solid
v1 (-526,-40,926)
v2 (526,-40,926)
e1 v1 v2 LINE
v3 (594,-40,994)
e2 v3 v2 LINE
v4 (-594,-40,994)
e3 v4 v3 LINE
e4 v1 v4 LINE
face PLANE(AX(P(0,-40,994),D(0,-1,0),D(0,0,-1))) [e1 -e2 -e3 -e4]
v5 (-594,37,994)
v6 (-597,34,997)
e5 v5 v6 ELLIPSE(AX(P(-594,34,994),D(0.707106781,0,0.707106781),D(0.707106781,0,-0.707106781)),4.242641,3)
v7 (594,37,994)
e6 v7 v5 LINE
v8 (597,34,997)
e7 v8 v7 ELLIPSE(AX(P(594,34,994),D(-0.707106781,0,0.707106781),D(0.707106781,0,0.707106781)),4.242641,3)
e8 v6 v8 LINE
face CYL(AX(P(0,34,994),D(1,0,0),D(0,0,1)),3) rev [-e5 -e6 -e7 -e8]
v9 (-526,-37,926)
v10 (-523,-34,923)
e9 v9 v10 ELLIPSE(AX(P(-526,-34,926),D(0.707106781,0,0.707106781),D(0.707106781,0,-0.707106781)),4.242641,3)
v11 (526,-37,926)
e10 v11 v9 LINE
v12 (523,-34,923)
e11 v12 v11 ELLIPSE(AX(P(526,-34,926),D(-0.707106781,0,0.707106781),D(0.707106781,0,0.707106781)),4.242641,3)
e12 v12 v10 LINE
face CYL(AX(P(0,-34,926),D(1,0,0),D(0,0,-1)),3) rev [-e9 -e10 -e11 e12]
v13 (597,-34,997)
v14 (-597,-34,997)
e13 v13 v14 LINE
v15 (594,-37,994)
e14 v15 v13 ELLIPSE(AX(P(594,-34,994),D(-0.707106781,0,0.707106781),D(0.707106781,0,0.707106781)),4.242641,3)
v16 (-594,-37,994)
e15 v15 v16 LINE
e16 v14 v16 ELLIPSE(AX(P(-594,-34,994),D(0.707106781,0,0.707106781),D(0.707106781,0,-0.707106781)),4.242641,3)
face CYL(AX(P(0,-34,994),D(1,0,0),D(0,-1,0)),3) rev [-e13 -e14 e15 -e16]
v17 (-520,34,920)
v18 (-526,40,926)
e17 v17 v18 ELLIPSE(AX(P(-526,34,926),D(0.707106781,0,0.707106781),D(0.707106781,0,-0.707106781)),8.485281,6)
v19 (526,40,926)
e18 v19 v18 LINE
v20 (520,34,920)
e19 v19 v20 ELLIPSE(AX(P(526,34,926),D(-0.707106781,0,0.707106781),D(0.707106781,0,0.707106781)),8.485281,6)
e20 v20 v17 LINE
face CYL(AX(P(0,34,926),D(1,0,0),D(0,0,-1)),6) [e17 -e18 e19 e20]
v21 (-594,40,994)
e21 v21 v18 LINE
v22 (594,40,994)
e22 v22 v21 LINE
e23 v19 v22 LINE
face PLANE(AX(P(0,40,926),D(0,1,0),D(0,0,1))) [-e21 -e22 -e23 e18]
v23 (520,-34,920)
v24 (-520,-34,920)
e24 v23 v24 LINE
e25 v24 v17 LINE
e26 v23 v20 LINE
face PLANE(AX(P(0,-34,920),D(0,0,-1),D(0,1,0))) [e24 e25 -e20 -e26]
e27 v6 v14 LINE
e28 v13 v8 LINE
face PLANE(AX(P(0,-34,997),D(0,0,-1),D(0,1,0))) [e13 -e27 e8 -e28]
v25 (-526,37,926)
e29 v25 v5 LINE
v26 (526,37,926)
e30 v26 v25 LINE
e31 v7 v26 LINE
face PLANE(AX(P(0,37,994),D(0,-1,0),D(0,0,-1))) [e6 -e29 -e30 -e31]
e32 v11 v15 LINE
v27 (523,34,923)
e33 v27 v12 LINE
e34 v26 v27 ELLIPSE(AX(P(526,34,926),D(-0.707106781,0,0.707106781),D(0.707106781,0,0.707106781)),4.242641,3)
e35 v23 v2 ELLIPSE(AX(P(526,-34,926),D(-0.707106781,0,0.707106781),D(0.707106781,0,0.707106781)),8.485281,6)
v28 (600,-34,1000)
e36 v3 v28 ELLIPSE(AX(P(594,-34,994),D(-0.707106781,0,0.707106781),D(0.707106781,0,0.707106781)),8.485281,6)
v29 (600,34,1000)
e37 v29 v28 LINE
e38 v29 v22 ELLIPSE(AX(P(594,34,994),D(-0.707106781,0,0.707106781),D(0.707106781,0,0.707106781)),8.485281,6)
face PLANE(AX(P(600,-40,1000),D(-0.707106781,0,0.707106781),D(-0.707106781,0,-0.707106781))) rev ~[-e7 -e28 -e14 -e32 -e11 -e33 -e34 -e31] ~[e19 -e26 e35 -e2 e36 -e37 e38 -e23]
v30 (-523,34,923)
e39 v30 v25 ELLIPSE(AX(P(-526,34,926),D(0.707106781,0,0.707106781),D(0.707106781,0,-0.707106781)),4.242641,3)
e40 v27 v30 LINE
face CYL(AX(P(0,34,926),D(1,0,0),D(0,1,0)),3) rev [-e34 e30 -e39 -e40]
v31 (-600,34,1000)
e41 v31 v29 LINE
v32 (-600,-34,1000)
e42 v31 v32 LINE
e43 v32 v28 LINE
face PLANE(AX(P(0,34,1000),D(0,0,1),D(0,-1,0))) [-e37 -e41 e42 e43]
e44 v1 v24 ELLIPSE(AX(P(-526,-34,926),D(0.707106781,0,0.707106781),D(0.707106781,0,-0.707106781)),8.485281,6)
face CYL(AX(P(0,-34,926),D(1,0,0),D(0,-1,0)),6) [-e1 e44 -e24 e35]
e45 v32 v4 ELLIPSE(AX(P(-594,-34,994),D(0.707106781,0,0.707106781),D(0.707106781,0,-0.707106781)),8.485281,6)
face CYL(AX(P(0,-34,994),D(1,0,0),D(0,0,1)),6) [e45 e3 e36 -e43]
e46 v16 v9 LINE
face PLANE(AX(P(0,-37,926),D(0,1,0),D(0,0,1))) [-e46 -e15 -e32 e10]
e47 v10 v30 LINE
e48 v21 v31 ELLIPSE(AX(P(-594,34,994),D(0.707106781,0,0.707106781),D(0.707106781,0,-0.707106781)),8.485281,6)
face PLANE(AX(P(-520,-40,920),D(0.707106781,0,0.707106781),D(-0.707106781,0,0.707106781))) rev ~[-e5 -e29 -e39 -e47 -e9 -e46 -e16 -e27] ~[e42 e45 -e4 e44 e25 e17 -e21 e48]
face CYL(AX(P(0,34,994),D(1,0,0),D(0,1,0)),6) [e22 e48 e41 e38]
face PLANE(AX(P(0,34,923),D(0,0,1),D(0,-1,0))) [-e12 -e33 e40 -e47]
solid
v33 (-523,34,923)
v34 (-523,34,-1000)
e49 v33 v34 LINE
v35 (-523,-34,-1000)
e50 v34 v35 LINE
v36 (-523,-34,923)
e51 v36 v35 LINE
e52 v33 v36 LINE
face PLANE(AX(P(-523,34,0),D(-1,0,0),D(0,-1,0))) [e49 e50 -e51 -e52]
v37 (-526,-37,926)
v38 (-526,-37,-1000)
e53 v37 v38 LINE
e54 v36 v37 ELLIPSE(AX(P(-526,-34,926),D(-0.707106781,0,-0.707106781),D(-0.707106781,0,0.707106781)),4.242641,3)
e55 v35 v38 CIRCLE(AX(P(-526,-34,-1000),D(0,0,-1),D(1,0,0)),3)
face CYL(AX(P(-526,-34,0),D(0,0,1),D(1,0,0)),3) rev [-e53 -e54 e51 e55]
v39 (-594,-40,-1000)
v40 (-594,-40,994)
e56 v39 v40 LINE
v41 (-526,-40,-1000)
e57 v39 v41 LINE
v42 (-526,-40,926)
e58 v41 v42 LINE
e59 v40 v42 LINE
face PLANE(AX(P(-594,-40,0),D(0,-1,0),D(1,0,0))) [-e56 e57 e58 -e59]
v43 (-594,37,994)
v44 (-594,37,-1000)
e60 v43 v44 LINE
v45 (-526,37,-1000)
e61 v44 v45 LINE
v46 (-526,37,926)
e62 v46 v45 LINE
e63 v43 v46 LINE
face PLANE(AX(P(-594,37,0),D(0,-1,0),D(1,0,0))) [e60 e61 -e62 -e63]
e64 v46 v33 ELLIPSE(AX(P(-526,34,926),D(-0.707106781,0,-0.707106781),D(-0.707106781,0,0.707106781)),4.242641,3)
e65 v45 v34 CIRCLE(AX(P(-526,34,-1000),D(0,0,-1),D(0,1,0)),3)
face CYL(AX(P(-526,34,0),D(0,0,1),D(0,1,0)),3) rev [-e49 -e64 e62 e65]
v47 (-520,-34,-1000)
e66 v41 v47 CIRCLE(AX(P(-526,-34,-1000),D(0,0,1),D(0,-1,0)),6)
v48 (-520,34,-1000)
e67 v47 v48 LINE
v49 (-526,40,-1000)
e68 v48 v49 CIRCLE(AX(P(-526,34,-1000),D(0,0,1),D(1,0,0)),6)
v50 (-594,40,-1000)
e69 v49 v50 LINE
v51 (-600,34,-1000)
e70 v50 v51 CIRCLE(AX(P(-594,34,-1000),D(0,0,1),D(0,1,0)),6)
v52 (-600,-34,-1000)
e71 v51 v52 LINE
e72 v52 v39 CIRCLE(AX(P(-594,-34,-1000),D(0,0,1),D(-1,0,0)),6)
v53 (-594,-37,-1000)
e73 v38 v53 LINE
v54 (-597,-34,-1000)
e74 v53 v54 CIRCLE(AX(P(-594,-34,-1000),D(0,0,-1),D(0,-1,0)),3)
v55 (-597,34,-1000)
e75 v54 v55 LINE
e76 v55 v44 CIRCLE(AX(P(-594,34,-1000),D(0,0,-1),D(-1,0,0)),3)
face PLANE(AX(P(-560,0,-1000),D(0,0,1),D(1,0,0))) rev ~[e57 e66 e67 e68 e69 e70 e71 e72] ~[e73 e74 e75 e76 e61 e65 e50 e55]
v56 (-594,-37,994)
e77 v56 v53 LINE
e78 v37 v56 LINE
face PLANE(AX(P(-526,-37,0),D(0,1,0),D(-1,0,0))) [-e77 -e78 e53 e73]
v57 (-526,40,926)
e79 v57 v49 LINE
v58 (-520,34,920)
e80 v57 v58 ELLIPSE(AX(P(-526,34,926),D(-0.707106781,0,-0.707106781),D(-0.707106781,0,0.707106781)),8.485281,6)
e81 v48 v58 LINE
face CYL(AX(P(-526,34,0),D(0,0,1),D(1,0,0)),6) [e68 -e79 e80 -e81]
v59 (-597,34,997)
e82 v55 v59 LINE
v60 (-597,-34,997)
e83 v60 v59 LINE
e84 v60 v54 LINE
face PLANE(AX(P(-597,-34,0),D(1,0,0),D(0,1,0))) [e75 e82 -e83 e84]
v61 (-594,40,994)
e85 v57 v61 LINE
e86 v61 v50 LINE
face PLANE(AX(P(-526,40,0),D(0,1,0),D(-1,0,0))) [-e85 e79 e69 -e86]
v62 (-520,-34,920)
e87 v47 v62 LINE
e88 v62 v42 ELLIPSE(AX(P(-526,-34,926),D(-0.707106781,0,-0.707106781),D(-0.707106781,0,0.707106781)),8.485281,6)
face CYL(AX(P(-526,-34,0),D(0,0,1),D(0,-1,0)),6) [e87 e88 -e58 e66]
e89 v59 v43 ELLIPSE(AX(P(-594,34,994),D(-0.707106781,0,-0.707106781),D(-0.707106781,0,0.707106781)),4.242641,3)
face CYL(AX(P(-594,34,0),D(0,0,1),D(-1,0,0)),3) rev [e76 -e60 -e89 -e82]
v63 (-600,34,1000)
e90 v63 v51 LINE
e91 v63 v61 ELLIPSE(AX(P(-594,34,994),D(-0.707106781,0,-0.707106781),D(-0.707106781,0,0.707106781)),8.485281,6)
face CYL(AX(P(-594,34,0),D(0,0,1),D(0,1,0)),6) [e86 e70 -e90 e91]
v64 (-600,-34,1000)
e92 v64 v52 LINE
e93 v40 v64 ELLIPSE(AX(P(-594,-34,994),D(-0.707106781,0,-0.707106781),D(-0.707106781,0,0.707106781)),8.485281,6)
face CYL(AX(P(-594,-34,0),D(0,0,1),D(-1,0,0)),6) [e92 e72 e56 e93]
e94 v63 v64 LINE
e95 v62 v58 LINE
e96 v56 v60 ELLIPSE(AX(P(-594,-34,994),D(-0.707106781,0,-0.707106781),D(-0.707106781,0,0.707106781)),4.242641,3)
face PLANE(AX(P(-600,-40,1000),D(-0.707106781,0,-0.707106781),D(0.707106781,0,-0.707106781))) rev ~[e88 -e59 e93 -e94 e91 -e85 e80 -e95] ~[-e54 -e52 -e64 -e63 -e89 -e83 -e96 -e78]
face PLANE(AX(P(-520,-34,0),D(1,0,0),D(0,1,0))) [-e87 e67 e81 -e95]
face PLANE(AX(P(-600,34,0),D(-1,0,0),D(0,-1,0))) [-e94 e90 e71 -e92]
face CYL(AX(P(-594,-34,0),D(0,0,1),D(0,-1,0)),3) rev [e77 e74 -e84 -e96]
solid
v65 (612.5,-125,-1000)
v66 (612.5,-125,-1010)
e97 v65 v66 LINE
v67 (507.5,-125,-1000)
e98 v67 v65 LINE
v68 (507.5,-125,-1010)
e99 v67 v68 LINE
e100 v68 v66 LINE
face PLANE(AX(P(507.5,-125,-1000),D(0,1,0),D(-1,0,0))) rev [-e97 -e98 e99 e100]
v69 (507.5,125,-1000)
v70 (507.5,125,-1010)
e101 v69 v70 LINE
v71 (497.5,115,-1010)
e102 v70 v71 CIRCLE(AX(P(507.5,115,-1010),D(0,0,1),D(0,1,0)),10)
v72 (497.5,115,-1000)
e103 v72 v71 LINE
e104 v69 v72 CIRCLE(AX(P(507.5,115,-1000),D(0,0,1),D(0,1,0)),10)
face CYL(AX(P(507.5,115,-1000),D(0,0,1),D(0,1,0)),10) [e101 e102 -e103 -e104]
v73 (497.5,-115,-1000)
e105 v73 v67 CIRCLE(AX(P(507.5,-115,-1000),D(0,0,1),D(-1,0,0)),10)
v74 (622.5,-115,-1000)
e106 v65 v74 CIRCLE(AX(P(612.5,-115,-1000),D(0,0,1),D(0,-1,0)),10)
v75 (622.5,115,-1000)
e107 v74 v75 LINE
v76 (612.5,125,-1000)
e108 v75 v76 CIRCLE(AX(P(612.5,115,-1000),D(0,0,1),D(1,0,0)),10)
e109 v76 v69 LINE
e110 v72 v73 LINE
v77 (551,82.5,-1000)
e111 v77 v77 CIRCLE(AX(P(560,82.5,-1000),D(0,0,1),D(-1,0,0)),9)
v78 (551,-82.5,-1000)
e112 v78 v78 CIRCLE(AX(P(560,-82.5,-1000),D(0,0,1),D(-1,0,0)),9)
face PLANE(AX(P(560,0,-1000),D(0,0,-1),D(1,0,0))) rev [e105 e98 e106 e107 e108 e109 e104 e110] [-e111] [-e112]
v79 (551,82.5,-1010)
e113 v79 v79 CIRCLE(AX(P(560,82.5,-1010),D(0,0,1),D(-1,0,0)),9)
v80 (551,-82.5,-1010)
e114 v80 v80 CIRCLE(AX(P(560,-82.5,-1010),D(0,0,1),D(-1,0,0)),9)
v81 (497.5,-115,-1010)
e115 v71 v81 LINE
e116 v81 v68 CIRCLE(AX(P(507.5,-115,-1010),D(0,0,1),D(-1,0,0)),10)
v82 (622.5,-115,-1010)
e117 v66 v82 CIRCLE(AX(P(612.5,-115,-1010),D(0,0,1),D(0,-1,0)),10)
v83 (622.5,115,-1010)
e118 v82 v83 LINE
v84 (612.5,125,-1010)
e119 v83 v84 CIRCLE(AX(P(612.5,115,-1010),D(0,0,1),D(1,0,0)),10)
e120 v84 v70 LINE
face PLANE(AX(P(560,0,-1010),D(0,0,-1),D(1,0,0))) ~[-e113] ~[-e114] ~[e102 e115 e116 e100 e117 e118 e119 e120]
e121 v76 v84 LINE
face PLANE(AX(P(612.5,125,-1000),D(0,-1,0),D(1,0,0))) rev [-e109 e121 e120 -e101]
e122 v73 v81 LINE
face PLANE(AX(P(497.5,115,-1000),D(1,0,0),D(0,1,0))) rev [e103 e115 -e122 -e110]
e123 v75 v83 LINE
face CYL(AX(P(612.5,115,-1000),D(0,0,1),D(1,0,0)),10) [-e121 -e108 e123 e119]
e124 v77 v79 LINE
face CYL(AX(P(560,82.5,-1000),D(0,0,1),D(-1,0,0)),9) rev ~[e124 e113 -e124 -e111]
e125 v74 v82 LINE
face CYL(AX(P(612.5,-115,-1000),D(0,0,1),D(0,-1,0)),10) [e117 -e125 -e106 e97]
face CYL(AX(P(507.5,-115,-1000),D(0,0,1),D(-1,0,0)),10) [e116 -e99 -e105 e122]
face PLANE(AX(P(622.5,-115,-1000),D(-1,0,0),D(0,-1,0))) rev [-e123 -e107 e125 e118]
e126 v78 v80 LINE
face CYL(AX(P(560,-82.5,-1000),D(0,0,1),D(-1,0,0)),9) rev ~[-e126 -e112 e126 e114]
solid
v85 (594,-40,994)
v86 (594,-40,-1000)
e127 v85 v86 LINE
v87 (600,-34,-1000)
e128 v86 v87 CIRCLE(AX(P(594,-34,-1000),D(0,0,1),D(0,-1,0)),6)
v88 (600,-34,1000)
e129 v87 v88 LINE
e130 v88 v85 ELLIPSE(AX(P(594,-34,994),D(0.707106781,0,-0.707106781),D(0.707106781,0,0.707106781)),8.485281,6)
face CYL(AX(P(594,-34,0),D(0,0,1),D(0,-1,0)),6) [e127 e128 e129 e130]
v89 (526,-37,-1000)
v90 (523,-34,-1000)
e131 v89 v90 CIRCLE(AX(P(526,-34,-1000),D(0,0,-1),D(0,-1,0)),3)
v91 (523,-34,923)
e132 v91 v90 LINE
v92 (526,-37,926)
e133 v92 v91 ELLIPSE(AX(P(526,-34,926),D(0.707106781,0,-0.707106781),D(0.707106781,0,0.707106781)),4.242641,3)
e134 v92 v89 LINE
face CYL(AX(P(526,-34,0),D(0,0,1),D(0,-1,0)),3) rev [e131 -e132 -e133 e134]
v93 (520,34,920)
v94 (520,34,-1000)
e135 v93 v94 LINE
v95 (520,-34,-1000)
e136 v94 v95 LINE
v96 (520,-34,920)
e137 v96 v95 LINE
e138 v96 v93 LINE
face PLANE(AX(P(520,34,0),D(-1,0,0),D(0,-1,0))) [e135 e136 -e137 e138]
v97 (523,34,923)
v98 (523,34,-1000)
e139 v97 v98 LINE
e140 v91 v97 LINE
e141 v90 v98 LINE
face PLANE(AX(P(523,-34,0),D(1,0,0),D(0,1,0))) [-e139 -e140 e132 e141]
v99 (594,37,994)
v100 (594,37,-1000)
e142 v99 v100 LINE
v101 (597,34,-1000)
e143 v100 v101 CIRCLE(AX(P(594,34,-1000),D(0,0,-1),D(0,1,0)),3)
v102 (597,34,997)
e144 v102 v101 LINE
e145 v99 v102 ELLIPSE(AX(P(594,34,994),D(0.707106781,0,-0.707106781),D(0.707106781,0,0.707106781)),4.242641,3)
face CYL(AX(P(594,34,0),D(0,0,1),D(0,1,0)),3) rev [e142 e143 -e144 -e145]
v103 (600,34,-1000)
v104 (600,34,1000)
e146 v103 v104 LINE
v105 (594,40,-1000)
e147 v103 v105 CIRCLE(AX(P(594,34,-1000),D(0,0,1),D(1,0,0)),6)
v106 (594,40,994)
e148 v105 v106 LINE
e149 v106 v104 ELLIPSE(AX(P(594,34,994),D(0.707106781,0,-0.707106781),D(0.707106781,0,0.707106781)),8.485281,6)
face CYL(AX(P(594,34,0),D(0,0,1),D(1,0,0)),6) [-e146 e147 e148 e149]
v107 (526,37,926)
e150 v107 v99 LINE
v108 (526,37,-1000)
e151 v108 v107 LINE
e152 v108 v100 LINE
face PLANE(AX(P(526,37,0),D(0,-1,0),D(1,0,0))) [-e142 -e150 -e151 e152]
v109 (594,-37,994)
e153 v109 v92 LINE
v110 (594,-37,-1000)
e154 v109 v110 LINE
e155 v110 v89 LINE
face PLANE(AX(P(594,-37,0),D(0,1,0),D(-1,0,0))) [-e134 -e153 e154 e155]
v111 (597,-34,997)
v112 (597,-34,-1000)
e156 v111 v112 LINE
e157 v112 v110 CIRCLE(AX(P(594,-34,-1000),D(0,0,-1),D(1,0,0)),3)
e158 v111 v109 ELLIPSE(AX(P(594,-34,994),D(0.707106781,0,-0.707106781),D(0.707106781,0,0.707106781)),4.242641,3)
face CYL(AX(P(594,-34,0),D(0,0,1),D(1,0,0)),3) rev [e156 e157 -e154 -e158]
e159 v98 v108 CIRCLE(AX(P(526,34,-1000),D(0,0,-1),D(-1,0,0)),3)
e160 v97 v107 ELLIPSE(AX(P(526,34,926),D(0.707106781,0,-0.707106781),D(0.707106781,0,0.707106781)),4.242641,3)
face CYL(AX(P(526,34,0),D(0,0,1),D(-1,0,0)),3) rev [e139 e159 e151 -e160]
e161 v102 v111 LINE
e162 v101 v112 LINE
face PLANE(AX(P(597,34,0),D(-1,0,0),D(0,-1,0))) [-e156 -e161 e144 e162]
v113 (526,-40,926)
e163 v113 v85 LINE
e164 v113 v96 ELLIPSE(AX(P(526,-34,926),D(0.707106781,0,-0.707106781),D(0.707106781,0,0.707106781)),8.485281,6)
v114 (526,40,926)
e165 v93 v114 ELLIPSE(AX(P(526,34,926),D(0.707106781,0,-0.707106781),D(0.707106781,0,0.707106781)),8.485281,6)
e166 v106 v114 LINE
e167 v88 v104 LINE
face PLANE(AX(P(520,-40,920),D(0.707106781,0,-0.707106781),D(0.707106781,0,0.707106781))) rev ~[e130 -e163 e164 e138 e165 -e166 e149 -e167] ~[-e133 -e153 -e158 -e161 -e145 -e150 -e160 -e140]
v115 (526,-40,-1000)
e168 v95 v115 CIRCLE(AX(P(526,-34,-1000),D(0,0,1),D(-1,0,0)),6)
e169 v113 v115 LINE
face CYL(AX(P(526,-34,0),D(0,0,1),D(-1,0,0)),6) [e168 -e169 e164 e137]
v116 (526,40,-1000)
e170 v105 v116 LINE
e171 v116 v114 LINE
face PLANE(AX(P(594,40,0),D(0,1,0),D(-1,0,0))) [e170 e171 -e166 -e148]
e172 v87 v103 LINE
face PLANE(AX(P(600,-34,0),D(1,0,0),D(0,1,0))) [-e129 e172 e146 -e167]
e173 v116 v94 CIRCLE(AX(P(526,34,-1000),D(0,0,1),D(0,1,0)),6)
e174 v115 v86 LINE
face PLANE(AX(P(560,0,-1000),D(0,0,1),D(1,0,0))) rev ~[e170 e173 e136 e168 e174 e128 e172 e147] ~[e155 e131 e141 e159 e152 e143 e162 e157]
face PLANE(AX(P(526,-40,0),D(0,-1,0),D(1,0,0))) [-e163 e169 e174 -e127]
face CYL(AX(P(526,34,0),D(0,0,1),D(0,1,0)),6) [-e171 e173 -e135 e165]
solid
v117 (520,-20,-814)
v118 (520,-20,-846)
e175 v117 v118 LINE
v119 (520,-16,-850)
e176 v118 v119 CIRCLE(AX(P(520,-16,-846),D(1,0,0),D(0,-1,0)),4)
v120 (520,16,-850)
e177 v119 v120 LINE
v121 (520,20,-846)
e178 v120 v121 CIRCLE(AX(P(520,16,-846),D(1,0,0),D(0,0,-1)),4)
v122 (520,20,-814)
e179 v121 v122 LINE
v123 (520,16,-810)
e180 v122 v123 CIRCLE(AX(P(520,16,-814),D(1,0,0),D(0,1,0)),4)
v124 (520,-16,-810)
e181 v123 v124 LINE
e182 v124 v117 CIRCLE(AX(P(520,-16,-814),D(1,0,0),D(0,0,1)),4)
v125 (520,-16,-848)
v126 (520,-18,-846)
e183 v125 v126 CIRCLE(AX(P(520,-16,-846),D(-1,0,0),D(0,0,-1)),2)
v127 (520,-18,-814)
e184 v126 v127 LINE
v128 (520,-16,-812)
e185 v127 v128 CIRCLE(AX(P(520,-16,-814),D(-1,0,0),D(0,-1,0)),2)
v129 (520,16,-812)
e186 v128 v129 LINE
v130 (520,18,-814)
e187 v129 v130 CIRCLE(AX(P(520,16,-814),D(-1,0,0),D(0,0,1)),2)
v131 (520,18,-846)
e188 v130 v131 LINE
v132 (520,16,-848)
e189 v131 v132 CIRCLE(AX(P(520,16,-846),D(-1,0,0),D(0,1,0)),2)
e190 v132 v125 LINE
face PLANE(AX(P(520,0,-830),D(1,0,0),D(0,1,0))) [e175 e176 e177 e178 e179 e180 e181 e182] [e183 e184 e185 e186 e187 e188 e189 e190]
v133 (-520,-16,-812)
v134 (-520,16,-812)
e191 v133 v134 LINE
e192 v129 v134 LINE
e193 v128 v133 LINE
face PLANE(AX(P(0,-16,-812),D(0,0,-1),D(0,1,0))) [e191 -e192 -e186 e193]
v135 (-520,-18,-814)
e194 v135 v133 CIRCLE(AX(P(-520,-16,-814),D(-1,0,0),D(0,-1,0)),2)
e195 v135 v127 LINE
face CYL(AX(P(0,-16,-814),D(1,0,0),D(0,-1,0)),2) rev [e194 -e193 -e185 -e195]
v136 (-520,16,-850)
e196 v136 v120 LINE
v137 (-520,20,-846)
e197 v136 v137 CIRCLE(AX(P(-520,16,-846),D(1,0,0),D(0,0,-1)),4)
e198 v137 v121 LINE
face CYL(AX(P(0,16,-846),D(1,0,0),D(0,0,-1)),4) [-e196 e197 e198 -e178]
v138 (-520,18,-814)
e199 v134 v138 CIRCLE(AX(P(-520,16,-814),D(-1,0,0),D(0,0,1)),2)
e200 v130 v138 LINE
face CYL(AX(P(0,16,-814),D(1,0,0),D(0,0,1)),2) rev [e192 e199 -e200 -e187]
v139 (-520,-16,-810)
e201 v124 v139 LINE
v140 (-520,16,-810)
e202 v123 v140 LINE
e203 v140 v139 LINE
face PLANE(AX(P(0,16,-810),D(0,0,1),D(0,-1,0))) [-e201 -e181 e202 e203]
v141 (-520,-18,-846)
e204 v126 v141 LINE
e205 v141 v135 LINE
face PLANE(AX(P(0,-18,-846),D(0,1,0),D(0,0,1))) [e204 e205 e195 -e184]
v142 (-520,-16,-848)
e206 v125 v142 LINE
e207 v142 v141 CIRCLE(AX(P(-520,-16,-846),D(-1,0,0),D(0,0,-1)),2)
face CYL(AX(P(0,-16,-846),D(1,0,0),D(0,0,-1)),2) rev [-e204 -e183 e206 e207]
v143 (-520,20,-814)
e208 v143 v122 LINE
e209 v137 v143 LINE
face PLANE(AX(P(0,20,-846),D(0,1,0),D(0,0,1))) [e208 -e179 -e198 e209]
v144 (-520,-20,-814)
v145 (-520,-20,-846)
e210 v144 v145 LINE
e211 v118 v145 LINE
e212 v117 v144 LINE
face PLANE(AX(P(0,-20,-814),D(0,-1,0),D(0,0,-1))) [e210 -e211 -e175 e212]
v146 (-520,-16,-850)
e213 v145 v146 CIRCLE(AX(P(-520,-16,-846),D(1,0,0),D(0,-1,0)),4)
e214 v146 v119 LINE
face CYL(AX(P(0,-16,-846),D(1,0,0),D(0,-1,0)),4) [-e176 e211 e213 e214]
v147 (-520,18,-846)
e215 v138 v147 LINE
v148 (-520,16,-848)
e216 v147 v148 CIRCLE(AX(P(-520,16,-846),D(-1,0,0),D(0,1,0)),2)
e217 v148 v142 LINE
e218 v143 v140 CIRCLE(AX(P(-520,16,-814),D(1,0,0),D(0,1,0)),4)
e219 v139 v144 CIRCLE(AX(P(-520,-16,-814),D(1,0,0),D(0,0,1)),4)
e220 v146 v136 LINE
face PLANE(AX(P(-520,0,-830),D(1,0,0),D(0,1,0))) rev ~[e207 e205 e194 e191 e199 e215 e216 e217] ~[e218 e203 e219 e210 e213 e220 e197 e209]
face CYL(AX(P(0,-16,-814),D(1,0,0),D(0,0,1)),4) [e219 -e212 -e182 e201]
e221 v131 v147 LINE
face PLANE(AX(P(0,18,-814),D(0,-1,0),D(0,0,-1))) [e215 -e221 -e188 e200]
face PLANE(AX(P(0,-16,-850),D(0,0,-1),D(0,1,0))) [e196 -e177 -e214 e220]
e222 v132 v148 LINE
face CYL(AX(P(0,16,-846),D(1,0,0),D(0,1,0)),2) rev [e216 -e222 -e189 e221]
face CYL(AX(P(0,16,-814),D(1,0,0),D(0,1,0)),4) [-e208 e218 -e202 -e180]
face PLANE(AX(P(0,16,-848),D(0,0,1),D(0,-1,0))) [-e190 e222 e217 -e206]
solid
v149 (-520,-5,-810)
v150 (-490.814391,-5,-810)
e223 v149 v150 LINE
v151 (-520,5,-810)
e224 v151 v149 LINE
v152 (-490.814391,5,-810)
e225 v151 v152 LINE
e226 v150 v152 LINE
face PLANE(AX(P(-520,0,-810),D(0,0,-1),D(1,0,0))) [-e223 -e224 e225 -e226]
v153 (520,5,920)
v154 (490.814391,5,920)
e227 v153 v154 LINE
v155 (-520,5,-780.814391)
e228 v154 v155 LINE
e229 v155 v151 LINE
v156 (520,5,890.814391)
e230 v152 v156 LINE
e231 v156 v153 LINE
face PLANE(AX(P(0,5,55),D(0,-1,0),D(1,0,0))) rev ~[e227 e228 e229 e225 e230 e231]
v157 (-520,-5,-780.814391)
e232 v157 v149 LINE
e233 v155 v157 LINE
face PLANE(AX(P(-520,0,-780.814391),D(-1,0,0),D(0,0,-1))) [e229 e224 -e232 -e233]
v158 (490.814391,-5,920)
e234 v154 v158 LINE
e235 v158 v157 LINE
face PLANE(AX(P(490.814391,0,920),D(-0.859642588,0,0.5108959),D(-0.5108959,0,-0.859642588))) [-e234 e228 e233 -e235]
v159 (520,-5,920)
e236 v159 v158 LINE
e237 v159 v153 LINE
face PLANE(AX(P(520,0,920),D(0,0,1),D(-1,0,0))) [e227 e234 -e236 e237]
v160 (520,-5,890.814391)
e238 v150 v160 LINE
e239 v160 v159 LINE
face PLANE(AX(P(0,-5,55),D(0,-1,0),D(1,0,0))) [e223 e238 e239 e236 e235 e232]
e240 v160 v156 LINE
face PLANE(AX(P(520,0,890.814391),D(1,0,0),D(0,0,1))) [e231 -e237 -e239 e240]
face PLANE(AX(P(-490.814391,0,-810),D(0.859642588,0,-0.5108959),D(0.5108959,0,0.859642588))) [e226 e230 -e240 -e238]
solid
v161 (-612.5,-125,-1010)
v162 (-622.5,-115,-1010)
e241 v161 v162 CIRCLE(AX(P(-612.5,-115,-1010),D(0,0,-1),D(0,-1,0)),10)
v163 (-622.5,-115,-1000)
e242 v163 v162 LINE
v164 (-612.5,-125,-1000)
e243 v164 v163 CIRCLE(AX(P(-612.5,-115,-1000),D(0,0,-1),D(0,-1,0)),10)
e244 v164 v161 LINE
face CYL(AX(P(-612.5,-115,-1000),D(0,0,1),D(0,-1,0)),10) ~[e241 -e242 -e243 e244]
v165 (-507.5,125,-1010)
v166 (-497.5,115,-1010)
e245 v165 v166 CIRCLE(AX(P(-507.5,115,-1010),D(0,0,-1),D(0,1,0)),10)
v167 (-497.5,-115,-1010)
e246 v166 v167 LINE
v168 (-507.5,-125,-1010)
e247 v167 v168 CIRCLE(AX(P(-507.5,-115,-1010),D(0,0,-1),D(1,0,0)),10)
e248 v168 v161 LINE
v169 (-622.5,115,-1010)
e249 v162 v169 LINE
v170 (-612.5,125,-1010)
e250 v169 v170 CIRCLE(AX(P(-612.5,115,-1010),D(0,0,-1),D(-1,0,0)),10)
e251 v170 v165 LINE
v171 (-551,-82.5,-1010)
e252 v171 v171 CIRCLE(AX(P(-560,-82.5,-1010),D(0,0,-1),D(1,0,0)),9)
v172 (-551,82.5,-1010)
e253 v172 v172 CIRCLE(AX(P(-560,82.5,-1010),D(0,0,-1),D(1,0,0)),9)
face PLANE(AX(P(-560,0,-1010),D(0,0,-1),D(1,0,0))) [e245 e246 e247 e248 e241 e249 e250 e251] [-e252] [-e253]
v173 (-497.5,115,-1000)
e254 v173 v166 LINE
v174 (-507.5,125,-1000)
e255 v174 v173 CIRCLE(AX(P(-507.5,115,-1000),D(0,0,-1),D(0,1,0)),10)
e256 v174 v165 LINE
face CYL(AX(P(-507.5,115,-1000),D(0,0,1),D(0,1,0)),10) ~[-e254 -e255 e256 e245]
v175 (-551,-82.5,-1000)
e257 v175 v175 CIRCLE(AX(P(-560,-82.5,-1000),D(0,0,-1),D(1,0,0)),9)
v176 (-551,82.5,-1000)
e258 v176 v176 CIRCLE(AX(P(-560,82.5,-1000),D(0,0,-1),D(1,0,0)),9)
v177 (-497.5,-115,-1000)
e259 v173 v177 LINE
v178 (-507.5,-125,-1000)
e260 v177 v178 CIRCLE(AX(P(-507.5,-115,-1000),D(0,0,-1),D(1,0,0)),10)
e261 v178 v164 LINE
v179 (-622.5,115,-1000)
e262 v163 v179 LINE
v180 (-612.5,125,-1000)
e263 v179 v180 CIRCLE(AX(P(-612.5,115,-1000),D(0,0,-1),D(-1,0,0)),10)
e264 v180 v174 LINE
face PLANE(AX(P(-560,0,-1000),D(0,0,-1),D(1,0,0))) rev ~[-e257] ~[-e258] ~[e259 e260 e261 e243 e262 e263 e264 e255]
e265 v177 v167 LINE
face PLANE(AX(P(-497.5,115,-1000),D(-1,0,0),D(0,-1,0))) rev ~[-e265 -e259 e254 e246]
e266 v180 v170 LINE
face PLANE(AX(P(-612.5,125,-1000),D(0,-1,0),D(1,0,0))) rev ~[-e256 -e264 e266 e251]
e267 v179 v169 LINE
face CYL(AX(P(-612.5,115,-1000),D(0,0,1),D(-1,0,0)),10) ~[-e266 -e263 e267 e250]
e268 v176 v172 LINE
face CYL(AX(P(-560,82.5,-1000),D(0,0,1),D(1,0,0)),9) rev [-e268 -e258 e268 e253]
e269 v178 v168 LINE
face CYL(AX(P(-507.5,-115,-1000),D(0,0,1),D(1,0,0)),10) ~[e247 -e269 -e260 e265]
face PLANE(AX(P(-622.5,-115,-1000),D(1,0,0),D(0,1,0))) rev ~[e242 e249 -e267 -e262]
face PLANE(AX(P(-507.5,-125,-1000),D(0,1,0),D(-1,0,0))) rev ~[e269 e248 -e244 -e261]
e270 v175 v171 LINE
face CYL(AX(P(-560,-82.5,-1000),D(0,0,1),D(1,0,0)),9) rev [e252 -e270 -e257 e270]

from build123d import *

# Parameters (mm, degrees)
F1_DEPTH  = 1000
F3_DEPTH  = 520
F5_DEPTH  = 80.001
F7_DEPTH  = 600
F9_DEPTH  = 80.001
F11_DEPTH = 5
F12_R     = 9
F13_DEPTH = 10


with BuildPart() as f1:
    # F0 (on Top) → F1 (new body, symmetric)
    with BuildSketch(Plane.XY):
        with BuildLine():
            ThreePointArc((-600, -34), (-598.2426406871, -38.2426406871), (-594, -40))
            Line((-594, -40), (-526, -40))
            ThreePointArc((-526, -40), (-521.7573593129, -38.2426406871), (-520, -34))
            Line((-520, -34), (-520, 34))
            ThreePointArc((-520, 34), (-521.7573593129, 38.2426406871), (-526, 40))
            Line((-526, 40), (-594, 40))
            ThreePointArc((-594, 40), (-598.2426406871, 38.2426406871), (-600, 34))
            Line((-600, 34), (-600, -34))
        make_face()
        with BuildLine():
            ThreePointArc((-597, 34), (-596.1213203436, 36.1213203436), (-594, 37))
            Line((-594, 37), (-526, 37))
            ThreePointArc((-526, 37), (-523.8786796564, 36.1213203436), (-523, 34))
            Line((-523, 34), (-523, -34))
            ThreePointArc((-523, -34), (-523.8786796564, -36.1213203436), (-526, -37))
            Line((-526, -37), (-594, -37))
            ThreePointArc((-594, -37), (-596.1213203436, -36.1213203436), (-597, -34))
            Line((-597, -34), (-597, 34))
        make_face(mode=Mode.SUBTRACT)
    extrude(amount=F1_DEPTH, both=True)


with BuildPart() as f1b:
    # F0 (on Top) → F1, piece 2 (new body, symmetric)
    with BuildSketch(Plane.XY):
        with BuildLine():
            ThreePointArc((594, -40), (598.2426406871, -38.2426406871), (600, -34))
            Line((600, -34), (600, 34))
            ThreePointArc((600, 34), (598.2426406871, 38.2426406871), (594, 40))
            Line((594, 40), (526, 40))
            ThreePointArc((526, 40), (521.7573593129, 38.2426406871), (520, 34))
            Line((520, 34), (520, -34))
            ThreePointArc((520, -34), (521.7573593129, -38.2426406871), (526, -40))
            Line((526, -40), (594, -40))
        make_face()
        with BuildLine():
            Line((526, 37), (594, 37))
            ThreePointArc((594, 37), (596.1213203436, 36.1213203436), (597, 34))
            Line((597, 34), (597, -34))
            ThreePointArc((597, -34), (596.1213203436, -36.1213203436), (594, -37))
            Line((594, -37), (526, -37))
            ThreePointArc((526, -37), (523.8786796564, -36.1213203436), (523, -34))
            Line((523, -34), (523, 34))
            ThreePointArc((523, 34), (523.8786796564, 36.1213203436), (526, 37))
        make_face(mode=Mode.SUBTRACT)
    extrude(amount=F1_DEPTH, both=True)


with BuildPart() as f3:
    # F2 (on Right) → F3 (new body, symmetric)
    with BuildSketch(Plane.YZ):
        with BuildLine():
            ThreePointArc((-20, -846), (-18.8284271247, -848.8284271247), (-16, -850))
            Line((-16, -850), (16, -850))
            ThreePointArc((16, -850), (18.8284271247, -848.8284271247), (20, -846))
            Line((20, -846), (20, -814))
            ThreePointArc((20, -814), (18.8284271247, -811.1715728753), (16, -810))
            Line((16, -810), (-16, -810))
            ThreePointArc((-16, -810), (-18.8284271247, -811.1715728753), (-20, -814))
            Line((-20, -814), (-20, -846))
        make_face()
        with BuildLine():
            ThreePointArc((-18, -814), (-17.4142135624, -812.5857864376), (-16, -812))
            Line((-16, -812), (16, -812))
            ThreePointArc((16, -812), (17.4142135624, -812.5857864376), (18, -814))
            Line((18, -814), (18, -846))
            ThreePointArc((18, -846), (17.4142135624, -847.4142135624), (16, -848))
            Line((16, -848), (-16, -848))
            ThreePointArc((-16, -848), (-17.4142135624, -847.4142135624), (-18, -846))
            Line((-18, -846), (-18, -814))
        make_face(mode=Mode.SUBTRACT)
    extrude(amount=F3_DEPTH, both=True)


with BuildPart() as f5_tool:
    # F4 (on face) → F5 (new body, through all)
    with BuildSketch(Plane.XZ.offset(40)):
        Polygon((-520, 1000), (-600, 1000), (-520, 920), align=None)
        Polygon((520, 920), (600, 1000), (520, 1000), align=None)
    extrude(amount=-F5_DEPTH)


with BuildPart() as f1_1:
    add(f1.part)

    # F5: cut by f5_tool
    add(f5_tool.part, mode=Mode.SUBTRACT)


with BuildPart() as f1b_1:
    add(f1b.part)

    # F5: cut by f5_tool
    add(f5_tool.part, mode=Mode.SUBTRACT)


with BuildPart() as f7:
    # F6 (on Right) → F7 (new body, symmetric)
    with BuildSketch(Plane.YZ):
        with BuildLine():
            ThreePointArc((40, 994), (38.2426406871, 998.2426406871), (34, 1000))
            Line((34, 1000), (-34, 1000))
            ThreePointArc((-34, 1000), (-38.2426406871, 998.2426406871), (-40, 994))
            Line((-40, 994), (-40, 926))
            ThreePointArc((-40, 926), (-38.2426406871, 921.7573593129), (-34, 920))
            Line((-34, 920), (34, 920))
            ThreePointArc((34, 920), (38.2426406871, 921.7573593129), (40, 926))
            Line((40, 926), (40, 994))
        make_face()
        with BuildLine():
            ThreePointArc((34, 997), (36.1213203436, 996.1213203436), (37, 994))
            Line((37, 994), (37, 926))
            ThreePointArc((37, 926), (36.1213203436, 923.8786796564), (34, 923))
            Line((34, 923), (-34, 923))
            ThreePointArc((-34, 923), (-36.1213203436, 923.8786796564), (-37, 926))
            Line((-37, 926), (-37, 994))
            ThreePointArc((-37, 994), (-36.1213203436, 996.1213203436), (-34, 997))
            Line((-34, 997), (34, 997))
        make_face(mode=Mode.SUBTRACT)
    extrude(amount=F7_DEPTH, both=True)

    # F8 (on face) → F9 (cut, through all)
    with BuildSketch(Plane.XZ.offset(40)):
        Polygon((-600, 1000), (-600, 920), (-520, 920), align=None)
        Polygon((600, 1000), (520, 920), (600, 920), align=None)
    extrude(amount=-F9_DEPTH, mode=Mode.SUBTRACT)


with BuildPart() as f11:
    # F10 (on Front) → F11 (new body, symmetric)
    with BuildSketch(Plane.XZ):
        Polygon((520, 920), (490.8143913183, 920), (-520, -780.8143913183), (-520, -810), (-490.8143913183, -810), (520, 890.8143913183), align=None)
    extrude(amount=F11_DEPTH, both=True)


with BuildPart() as f13:
    # F12 (on face) → F13 (new body)
    with BuildSketch(Plane(origin=(0, 0, -1000), x_dir=(1, 0, 0), z_dir=(0, 0, -1))):
        with BuildLine():
            Line((-612.5, -125), (-507.5, -125))
            ThreePointArc((-507.5, -125), (-500.4289321881, -122.0710678119), (-497.5, -115))
            Line((-497.5, -115), (-497.5, 115))
            ThreePointArc((-497.5, 115), (-500.4289321881, 122.0710678119), (-507.5, 125))
            Line((-507.5, 125), (-612.5, 125))
            ThreePointArc((-612.5, 125), (-619.5710678119, 122.0710678119), (-622.5, 115))
            Line((-622.5, 115), (-622.5, -115))
            ThreePointArc((-622.5, -115), (-619.5710678119, -122.0710678119), (-612.5, -125))
        make_face()
        with Locations((-560, -82.5)):
            Circle(F12_R, mode=Mode.SUBTRACT)
        with Locations((-560, 82.5)):
            Circle(F12_R, mode=Mode.SUBTRACT)
    extrude(amount=F13_DEPTH)


with BuildPart() as f14_1:
    # F14: instance of F13
    add(f13.part.mirror(Plane.YZ))


solid = Compound([f3.part, f1_1.part, f1b_1.part, f7.part, f11.part, f13.part, f14_1.part])
